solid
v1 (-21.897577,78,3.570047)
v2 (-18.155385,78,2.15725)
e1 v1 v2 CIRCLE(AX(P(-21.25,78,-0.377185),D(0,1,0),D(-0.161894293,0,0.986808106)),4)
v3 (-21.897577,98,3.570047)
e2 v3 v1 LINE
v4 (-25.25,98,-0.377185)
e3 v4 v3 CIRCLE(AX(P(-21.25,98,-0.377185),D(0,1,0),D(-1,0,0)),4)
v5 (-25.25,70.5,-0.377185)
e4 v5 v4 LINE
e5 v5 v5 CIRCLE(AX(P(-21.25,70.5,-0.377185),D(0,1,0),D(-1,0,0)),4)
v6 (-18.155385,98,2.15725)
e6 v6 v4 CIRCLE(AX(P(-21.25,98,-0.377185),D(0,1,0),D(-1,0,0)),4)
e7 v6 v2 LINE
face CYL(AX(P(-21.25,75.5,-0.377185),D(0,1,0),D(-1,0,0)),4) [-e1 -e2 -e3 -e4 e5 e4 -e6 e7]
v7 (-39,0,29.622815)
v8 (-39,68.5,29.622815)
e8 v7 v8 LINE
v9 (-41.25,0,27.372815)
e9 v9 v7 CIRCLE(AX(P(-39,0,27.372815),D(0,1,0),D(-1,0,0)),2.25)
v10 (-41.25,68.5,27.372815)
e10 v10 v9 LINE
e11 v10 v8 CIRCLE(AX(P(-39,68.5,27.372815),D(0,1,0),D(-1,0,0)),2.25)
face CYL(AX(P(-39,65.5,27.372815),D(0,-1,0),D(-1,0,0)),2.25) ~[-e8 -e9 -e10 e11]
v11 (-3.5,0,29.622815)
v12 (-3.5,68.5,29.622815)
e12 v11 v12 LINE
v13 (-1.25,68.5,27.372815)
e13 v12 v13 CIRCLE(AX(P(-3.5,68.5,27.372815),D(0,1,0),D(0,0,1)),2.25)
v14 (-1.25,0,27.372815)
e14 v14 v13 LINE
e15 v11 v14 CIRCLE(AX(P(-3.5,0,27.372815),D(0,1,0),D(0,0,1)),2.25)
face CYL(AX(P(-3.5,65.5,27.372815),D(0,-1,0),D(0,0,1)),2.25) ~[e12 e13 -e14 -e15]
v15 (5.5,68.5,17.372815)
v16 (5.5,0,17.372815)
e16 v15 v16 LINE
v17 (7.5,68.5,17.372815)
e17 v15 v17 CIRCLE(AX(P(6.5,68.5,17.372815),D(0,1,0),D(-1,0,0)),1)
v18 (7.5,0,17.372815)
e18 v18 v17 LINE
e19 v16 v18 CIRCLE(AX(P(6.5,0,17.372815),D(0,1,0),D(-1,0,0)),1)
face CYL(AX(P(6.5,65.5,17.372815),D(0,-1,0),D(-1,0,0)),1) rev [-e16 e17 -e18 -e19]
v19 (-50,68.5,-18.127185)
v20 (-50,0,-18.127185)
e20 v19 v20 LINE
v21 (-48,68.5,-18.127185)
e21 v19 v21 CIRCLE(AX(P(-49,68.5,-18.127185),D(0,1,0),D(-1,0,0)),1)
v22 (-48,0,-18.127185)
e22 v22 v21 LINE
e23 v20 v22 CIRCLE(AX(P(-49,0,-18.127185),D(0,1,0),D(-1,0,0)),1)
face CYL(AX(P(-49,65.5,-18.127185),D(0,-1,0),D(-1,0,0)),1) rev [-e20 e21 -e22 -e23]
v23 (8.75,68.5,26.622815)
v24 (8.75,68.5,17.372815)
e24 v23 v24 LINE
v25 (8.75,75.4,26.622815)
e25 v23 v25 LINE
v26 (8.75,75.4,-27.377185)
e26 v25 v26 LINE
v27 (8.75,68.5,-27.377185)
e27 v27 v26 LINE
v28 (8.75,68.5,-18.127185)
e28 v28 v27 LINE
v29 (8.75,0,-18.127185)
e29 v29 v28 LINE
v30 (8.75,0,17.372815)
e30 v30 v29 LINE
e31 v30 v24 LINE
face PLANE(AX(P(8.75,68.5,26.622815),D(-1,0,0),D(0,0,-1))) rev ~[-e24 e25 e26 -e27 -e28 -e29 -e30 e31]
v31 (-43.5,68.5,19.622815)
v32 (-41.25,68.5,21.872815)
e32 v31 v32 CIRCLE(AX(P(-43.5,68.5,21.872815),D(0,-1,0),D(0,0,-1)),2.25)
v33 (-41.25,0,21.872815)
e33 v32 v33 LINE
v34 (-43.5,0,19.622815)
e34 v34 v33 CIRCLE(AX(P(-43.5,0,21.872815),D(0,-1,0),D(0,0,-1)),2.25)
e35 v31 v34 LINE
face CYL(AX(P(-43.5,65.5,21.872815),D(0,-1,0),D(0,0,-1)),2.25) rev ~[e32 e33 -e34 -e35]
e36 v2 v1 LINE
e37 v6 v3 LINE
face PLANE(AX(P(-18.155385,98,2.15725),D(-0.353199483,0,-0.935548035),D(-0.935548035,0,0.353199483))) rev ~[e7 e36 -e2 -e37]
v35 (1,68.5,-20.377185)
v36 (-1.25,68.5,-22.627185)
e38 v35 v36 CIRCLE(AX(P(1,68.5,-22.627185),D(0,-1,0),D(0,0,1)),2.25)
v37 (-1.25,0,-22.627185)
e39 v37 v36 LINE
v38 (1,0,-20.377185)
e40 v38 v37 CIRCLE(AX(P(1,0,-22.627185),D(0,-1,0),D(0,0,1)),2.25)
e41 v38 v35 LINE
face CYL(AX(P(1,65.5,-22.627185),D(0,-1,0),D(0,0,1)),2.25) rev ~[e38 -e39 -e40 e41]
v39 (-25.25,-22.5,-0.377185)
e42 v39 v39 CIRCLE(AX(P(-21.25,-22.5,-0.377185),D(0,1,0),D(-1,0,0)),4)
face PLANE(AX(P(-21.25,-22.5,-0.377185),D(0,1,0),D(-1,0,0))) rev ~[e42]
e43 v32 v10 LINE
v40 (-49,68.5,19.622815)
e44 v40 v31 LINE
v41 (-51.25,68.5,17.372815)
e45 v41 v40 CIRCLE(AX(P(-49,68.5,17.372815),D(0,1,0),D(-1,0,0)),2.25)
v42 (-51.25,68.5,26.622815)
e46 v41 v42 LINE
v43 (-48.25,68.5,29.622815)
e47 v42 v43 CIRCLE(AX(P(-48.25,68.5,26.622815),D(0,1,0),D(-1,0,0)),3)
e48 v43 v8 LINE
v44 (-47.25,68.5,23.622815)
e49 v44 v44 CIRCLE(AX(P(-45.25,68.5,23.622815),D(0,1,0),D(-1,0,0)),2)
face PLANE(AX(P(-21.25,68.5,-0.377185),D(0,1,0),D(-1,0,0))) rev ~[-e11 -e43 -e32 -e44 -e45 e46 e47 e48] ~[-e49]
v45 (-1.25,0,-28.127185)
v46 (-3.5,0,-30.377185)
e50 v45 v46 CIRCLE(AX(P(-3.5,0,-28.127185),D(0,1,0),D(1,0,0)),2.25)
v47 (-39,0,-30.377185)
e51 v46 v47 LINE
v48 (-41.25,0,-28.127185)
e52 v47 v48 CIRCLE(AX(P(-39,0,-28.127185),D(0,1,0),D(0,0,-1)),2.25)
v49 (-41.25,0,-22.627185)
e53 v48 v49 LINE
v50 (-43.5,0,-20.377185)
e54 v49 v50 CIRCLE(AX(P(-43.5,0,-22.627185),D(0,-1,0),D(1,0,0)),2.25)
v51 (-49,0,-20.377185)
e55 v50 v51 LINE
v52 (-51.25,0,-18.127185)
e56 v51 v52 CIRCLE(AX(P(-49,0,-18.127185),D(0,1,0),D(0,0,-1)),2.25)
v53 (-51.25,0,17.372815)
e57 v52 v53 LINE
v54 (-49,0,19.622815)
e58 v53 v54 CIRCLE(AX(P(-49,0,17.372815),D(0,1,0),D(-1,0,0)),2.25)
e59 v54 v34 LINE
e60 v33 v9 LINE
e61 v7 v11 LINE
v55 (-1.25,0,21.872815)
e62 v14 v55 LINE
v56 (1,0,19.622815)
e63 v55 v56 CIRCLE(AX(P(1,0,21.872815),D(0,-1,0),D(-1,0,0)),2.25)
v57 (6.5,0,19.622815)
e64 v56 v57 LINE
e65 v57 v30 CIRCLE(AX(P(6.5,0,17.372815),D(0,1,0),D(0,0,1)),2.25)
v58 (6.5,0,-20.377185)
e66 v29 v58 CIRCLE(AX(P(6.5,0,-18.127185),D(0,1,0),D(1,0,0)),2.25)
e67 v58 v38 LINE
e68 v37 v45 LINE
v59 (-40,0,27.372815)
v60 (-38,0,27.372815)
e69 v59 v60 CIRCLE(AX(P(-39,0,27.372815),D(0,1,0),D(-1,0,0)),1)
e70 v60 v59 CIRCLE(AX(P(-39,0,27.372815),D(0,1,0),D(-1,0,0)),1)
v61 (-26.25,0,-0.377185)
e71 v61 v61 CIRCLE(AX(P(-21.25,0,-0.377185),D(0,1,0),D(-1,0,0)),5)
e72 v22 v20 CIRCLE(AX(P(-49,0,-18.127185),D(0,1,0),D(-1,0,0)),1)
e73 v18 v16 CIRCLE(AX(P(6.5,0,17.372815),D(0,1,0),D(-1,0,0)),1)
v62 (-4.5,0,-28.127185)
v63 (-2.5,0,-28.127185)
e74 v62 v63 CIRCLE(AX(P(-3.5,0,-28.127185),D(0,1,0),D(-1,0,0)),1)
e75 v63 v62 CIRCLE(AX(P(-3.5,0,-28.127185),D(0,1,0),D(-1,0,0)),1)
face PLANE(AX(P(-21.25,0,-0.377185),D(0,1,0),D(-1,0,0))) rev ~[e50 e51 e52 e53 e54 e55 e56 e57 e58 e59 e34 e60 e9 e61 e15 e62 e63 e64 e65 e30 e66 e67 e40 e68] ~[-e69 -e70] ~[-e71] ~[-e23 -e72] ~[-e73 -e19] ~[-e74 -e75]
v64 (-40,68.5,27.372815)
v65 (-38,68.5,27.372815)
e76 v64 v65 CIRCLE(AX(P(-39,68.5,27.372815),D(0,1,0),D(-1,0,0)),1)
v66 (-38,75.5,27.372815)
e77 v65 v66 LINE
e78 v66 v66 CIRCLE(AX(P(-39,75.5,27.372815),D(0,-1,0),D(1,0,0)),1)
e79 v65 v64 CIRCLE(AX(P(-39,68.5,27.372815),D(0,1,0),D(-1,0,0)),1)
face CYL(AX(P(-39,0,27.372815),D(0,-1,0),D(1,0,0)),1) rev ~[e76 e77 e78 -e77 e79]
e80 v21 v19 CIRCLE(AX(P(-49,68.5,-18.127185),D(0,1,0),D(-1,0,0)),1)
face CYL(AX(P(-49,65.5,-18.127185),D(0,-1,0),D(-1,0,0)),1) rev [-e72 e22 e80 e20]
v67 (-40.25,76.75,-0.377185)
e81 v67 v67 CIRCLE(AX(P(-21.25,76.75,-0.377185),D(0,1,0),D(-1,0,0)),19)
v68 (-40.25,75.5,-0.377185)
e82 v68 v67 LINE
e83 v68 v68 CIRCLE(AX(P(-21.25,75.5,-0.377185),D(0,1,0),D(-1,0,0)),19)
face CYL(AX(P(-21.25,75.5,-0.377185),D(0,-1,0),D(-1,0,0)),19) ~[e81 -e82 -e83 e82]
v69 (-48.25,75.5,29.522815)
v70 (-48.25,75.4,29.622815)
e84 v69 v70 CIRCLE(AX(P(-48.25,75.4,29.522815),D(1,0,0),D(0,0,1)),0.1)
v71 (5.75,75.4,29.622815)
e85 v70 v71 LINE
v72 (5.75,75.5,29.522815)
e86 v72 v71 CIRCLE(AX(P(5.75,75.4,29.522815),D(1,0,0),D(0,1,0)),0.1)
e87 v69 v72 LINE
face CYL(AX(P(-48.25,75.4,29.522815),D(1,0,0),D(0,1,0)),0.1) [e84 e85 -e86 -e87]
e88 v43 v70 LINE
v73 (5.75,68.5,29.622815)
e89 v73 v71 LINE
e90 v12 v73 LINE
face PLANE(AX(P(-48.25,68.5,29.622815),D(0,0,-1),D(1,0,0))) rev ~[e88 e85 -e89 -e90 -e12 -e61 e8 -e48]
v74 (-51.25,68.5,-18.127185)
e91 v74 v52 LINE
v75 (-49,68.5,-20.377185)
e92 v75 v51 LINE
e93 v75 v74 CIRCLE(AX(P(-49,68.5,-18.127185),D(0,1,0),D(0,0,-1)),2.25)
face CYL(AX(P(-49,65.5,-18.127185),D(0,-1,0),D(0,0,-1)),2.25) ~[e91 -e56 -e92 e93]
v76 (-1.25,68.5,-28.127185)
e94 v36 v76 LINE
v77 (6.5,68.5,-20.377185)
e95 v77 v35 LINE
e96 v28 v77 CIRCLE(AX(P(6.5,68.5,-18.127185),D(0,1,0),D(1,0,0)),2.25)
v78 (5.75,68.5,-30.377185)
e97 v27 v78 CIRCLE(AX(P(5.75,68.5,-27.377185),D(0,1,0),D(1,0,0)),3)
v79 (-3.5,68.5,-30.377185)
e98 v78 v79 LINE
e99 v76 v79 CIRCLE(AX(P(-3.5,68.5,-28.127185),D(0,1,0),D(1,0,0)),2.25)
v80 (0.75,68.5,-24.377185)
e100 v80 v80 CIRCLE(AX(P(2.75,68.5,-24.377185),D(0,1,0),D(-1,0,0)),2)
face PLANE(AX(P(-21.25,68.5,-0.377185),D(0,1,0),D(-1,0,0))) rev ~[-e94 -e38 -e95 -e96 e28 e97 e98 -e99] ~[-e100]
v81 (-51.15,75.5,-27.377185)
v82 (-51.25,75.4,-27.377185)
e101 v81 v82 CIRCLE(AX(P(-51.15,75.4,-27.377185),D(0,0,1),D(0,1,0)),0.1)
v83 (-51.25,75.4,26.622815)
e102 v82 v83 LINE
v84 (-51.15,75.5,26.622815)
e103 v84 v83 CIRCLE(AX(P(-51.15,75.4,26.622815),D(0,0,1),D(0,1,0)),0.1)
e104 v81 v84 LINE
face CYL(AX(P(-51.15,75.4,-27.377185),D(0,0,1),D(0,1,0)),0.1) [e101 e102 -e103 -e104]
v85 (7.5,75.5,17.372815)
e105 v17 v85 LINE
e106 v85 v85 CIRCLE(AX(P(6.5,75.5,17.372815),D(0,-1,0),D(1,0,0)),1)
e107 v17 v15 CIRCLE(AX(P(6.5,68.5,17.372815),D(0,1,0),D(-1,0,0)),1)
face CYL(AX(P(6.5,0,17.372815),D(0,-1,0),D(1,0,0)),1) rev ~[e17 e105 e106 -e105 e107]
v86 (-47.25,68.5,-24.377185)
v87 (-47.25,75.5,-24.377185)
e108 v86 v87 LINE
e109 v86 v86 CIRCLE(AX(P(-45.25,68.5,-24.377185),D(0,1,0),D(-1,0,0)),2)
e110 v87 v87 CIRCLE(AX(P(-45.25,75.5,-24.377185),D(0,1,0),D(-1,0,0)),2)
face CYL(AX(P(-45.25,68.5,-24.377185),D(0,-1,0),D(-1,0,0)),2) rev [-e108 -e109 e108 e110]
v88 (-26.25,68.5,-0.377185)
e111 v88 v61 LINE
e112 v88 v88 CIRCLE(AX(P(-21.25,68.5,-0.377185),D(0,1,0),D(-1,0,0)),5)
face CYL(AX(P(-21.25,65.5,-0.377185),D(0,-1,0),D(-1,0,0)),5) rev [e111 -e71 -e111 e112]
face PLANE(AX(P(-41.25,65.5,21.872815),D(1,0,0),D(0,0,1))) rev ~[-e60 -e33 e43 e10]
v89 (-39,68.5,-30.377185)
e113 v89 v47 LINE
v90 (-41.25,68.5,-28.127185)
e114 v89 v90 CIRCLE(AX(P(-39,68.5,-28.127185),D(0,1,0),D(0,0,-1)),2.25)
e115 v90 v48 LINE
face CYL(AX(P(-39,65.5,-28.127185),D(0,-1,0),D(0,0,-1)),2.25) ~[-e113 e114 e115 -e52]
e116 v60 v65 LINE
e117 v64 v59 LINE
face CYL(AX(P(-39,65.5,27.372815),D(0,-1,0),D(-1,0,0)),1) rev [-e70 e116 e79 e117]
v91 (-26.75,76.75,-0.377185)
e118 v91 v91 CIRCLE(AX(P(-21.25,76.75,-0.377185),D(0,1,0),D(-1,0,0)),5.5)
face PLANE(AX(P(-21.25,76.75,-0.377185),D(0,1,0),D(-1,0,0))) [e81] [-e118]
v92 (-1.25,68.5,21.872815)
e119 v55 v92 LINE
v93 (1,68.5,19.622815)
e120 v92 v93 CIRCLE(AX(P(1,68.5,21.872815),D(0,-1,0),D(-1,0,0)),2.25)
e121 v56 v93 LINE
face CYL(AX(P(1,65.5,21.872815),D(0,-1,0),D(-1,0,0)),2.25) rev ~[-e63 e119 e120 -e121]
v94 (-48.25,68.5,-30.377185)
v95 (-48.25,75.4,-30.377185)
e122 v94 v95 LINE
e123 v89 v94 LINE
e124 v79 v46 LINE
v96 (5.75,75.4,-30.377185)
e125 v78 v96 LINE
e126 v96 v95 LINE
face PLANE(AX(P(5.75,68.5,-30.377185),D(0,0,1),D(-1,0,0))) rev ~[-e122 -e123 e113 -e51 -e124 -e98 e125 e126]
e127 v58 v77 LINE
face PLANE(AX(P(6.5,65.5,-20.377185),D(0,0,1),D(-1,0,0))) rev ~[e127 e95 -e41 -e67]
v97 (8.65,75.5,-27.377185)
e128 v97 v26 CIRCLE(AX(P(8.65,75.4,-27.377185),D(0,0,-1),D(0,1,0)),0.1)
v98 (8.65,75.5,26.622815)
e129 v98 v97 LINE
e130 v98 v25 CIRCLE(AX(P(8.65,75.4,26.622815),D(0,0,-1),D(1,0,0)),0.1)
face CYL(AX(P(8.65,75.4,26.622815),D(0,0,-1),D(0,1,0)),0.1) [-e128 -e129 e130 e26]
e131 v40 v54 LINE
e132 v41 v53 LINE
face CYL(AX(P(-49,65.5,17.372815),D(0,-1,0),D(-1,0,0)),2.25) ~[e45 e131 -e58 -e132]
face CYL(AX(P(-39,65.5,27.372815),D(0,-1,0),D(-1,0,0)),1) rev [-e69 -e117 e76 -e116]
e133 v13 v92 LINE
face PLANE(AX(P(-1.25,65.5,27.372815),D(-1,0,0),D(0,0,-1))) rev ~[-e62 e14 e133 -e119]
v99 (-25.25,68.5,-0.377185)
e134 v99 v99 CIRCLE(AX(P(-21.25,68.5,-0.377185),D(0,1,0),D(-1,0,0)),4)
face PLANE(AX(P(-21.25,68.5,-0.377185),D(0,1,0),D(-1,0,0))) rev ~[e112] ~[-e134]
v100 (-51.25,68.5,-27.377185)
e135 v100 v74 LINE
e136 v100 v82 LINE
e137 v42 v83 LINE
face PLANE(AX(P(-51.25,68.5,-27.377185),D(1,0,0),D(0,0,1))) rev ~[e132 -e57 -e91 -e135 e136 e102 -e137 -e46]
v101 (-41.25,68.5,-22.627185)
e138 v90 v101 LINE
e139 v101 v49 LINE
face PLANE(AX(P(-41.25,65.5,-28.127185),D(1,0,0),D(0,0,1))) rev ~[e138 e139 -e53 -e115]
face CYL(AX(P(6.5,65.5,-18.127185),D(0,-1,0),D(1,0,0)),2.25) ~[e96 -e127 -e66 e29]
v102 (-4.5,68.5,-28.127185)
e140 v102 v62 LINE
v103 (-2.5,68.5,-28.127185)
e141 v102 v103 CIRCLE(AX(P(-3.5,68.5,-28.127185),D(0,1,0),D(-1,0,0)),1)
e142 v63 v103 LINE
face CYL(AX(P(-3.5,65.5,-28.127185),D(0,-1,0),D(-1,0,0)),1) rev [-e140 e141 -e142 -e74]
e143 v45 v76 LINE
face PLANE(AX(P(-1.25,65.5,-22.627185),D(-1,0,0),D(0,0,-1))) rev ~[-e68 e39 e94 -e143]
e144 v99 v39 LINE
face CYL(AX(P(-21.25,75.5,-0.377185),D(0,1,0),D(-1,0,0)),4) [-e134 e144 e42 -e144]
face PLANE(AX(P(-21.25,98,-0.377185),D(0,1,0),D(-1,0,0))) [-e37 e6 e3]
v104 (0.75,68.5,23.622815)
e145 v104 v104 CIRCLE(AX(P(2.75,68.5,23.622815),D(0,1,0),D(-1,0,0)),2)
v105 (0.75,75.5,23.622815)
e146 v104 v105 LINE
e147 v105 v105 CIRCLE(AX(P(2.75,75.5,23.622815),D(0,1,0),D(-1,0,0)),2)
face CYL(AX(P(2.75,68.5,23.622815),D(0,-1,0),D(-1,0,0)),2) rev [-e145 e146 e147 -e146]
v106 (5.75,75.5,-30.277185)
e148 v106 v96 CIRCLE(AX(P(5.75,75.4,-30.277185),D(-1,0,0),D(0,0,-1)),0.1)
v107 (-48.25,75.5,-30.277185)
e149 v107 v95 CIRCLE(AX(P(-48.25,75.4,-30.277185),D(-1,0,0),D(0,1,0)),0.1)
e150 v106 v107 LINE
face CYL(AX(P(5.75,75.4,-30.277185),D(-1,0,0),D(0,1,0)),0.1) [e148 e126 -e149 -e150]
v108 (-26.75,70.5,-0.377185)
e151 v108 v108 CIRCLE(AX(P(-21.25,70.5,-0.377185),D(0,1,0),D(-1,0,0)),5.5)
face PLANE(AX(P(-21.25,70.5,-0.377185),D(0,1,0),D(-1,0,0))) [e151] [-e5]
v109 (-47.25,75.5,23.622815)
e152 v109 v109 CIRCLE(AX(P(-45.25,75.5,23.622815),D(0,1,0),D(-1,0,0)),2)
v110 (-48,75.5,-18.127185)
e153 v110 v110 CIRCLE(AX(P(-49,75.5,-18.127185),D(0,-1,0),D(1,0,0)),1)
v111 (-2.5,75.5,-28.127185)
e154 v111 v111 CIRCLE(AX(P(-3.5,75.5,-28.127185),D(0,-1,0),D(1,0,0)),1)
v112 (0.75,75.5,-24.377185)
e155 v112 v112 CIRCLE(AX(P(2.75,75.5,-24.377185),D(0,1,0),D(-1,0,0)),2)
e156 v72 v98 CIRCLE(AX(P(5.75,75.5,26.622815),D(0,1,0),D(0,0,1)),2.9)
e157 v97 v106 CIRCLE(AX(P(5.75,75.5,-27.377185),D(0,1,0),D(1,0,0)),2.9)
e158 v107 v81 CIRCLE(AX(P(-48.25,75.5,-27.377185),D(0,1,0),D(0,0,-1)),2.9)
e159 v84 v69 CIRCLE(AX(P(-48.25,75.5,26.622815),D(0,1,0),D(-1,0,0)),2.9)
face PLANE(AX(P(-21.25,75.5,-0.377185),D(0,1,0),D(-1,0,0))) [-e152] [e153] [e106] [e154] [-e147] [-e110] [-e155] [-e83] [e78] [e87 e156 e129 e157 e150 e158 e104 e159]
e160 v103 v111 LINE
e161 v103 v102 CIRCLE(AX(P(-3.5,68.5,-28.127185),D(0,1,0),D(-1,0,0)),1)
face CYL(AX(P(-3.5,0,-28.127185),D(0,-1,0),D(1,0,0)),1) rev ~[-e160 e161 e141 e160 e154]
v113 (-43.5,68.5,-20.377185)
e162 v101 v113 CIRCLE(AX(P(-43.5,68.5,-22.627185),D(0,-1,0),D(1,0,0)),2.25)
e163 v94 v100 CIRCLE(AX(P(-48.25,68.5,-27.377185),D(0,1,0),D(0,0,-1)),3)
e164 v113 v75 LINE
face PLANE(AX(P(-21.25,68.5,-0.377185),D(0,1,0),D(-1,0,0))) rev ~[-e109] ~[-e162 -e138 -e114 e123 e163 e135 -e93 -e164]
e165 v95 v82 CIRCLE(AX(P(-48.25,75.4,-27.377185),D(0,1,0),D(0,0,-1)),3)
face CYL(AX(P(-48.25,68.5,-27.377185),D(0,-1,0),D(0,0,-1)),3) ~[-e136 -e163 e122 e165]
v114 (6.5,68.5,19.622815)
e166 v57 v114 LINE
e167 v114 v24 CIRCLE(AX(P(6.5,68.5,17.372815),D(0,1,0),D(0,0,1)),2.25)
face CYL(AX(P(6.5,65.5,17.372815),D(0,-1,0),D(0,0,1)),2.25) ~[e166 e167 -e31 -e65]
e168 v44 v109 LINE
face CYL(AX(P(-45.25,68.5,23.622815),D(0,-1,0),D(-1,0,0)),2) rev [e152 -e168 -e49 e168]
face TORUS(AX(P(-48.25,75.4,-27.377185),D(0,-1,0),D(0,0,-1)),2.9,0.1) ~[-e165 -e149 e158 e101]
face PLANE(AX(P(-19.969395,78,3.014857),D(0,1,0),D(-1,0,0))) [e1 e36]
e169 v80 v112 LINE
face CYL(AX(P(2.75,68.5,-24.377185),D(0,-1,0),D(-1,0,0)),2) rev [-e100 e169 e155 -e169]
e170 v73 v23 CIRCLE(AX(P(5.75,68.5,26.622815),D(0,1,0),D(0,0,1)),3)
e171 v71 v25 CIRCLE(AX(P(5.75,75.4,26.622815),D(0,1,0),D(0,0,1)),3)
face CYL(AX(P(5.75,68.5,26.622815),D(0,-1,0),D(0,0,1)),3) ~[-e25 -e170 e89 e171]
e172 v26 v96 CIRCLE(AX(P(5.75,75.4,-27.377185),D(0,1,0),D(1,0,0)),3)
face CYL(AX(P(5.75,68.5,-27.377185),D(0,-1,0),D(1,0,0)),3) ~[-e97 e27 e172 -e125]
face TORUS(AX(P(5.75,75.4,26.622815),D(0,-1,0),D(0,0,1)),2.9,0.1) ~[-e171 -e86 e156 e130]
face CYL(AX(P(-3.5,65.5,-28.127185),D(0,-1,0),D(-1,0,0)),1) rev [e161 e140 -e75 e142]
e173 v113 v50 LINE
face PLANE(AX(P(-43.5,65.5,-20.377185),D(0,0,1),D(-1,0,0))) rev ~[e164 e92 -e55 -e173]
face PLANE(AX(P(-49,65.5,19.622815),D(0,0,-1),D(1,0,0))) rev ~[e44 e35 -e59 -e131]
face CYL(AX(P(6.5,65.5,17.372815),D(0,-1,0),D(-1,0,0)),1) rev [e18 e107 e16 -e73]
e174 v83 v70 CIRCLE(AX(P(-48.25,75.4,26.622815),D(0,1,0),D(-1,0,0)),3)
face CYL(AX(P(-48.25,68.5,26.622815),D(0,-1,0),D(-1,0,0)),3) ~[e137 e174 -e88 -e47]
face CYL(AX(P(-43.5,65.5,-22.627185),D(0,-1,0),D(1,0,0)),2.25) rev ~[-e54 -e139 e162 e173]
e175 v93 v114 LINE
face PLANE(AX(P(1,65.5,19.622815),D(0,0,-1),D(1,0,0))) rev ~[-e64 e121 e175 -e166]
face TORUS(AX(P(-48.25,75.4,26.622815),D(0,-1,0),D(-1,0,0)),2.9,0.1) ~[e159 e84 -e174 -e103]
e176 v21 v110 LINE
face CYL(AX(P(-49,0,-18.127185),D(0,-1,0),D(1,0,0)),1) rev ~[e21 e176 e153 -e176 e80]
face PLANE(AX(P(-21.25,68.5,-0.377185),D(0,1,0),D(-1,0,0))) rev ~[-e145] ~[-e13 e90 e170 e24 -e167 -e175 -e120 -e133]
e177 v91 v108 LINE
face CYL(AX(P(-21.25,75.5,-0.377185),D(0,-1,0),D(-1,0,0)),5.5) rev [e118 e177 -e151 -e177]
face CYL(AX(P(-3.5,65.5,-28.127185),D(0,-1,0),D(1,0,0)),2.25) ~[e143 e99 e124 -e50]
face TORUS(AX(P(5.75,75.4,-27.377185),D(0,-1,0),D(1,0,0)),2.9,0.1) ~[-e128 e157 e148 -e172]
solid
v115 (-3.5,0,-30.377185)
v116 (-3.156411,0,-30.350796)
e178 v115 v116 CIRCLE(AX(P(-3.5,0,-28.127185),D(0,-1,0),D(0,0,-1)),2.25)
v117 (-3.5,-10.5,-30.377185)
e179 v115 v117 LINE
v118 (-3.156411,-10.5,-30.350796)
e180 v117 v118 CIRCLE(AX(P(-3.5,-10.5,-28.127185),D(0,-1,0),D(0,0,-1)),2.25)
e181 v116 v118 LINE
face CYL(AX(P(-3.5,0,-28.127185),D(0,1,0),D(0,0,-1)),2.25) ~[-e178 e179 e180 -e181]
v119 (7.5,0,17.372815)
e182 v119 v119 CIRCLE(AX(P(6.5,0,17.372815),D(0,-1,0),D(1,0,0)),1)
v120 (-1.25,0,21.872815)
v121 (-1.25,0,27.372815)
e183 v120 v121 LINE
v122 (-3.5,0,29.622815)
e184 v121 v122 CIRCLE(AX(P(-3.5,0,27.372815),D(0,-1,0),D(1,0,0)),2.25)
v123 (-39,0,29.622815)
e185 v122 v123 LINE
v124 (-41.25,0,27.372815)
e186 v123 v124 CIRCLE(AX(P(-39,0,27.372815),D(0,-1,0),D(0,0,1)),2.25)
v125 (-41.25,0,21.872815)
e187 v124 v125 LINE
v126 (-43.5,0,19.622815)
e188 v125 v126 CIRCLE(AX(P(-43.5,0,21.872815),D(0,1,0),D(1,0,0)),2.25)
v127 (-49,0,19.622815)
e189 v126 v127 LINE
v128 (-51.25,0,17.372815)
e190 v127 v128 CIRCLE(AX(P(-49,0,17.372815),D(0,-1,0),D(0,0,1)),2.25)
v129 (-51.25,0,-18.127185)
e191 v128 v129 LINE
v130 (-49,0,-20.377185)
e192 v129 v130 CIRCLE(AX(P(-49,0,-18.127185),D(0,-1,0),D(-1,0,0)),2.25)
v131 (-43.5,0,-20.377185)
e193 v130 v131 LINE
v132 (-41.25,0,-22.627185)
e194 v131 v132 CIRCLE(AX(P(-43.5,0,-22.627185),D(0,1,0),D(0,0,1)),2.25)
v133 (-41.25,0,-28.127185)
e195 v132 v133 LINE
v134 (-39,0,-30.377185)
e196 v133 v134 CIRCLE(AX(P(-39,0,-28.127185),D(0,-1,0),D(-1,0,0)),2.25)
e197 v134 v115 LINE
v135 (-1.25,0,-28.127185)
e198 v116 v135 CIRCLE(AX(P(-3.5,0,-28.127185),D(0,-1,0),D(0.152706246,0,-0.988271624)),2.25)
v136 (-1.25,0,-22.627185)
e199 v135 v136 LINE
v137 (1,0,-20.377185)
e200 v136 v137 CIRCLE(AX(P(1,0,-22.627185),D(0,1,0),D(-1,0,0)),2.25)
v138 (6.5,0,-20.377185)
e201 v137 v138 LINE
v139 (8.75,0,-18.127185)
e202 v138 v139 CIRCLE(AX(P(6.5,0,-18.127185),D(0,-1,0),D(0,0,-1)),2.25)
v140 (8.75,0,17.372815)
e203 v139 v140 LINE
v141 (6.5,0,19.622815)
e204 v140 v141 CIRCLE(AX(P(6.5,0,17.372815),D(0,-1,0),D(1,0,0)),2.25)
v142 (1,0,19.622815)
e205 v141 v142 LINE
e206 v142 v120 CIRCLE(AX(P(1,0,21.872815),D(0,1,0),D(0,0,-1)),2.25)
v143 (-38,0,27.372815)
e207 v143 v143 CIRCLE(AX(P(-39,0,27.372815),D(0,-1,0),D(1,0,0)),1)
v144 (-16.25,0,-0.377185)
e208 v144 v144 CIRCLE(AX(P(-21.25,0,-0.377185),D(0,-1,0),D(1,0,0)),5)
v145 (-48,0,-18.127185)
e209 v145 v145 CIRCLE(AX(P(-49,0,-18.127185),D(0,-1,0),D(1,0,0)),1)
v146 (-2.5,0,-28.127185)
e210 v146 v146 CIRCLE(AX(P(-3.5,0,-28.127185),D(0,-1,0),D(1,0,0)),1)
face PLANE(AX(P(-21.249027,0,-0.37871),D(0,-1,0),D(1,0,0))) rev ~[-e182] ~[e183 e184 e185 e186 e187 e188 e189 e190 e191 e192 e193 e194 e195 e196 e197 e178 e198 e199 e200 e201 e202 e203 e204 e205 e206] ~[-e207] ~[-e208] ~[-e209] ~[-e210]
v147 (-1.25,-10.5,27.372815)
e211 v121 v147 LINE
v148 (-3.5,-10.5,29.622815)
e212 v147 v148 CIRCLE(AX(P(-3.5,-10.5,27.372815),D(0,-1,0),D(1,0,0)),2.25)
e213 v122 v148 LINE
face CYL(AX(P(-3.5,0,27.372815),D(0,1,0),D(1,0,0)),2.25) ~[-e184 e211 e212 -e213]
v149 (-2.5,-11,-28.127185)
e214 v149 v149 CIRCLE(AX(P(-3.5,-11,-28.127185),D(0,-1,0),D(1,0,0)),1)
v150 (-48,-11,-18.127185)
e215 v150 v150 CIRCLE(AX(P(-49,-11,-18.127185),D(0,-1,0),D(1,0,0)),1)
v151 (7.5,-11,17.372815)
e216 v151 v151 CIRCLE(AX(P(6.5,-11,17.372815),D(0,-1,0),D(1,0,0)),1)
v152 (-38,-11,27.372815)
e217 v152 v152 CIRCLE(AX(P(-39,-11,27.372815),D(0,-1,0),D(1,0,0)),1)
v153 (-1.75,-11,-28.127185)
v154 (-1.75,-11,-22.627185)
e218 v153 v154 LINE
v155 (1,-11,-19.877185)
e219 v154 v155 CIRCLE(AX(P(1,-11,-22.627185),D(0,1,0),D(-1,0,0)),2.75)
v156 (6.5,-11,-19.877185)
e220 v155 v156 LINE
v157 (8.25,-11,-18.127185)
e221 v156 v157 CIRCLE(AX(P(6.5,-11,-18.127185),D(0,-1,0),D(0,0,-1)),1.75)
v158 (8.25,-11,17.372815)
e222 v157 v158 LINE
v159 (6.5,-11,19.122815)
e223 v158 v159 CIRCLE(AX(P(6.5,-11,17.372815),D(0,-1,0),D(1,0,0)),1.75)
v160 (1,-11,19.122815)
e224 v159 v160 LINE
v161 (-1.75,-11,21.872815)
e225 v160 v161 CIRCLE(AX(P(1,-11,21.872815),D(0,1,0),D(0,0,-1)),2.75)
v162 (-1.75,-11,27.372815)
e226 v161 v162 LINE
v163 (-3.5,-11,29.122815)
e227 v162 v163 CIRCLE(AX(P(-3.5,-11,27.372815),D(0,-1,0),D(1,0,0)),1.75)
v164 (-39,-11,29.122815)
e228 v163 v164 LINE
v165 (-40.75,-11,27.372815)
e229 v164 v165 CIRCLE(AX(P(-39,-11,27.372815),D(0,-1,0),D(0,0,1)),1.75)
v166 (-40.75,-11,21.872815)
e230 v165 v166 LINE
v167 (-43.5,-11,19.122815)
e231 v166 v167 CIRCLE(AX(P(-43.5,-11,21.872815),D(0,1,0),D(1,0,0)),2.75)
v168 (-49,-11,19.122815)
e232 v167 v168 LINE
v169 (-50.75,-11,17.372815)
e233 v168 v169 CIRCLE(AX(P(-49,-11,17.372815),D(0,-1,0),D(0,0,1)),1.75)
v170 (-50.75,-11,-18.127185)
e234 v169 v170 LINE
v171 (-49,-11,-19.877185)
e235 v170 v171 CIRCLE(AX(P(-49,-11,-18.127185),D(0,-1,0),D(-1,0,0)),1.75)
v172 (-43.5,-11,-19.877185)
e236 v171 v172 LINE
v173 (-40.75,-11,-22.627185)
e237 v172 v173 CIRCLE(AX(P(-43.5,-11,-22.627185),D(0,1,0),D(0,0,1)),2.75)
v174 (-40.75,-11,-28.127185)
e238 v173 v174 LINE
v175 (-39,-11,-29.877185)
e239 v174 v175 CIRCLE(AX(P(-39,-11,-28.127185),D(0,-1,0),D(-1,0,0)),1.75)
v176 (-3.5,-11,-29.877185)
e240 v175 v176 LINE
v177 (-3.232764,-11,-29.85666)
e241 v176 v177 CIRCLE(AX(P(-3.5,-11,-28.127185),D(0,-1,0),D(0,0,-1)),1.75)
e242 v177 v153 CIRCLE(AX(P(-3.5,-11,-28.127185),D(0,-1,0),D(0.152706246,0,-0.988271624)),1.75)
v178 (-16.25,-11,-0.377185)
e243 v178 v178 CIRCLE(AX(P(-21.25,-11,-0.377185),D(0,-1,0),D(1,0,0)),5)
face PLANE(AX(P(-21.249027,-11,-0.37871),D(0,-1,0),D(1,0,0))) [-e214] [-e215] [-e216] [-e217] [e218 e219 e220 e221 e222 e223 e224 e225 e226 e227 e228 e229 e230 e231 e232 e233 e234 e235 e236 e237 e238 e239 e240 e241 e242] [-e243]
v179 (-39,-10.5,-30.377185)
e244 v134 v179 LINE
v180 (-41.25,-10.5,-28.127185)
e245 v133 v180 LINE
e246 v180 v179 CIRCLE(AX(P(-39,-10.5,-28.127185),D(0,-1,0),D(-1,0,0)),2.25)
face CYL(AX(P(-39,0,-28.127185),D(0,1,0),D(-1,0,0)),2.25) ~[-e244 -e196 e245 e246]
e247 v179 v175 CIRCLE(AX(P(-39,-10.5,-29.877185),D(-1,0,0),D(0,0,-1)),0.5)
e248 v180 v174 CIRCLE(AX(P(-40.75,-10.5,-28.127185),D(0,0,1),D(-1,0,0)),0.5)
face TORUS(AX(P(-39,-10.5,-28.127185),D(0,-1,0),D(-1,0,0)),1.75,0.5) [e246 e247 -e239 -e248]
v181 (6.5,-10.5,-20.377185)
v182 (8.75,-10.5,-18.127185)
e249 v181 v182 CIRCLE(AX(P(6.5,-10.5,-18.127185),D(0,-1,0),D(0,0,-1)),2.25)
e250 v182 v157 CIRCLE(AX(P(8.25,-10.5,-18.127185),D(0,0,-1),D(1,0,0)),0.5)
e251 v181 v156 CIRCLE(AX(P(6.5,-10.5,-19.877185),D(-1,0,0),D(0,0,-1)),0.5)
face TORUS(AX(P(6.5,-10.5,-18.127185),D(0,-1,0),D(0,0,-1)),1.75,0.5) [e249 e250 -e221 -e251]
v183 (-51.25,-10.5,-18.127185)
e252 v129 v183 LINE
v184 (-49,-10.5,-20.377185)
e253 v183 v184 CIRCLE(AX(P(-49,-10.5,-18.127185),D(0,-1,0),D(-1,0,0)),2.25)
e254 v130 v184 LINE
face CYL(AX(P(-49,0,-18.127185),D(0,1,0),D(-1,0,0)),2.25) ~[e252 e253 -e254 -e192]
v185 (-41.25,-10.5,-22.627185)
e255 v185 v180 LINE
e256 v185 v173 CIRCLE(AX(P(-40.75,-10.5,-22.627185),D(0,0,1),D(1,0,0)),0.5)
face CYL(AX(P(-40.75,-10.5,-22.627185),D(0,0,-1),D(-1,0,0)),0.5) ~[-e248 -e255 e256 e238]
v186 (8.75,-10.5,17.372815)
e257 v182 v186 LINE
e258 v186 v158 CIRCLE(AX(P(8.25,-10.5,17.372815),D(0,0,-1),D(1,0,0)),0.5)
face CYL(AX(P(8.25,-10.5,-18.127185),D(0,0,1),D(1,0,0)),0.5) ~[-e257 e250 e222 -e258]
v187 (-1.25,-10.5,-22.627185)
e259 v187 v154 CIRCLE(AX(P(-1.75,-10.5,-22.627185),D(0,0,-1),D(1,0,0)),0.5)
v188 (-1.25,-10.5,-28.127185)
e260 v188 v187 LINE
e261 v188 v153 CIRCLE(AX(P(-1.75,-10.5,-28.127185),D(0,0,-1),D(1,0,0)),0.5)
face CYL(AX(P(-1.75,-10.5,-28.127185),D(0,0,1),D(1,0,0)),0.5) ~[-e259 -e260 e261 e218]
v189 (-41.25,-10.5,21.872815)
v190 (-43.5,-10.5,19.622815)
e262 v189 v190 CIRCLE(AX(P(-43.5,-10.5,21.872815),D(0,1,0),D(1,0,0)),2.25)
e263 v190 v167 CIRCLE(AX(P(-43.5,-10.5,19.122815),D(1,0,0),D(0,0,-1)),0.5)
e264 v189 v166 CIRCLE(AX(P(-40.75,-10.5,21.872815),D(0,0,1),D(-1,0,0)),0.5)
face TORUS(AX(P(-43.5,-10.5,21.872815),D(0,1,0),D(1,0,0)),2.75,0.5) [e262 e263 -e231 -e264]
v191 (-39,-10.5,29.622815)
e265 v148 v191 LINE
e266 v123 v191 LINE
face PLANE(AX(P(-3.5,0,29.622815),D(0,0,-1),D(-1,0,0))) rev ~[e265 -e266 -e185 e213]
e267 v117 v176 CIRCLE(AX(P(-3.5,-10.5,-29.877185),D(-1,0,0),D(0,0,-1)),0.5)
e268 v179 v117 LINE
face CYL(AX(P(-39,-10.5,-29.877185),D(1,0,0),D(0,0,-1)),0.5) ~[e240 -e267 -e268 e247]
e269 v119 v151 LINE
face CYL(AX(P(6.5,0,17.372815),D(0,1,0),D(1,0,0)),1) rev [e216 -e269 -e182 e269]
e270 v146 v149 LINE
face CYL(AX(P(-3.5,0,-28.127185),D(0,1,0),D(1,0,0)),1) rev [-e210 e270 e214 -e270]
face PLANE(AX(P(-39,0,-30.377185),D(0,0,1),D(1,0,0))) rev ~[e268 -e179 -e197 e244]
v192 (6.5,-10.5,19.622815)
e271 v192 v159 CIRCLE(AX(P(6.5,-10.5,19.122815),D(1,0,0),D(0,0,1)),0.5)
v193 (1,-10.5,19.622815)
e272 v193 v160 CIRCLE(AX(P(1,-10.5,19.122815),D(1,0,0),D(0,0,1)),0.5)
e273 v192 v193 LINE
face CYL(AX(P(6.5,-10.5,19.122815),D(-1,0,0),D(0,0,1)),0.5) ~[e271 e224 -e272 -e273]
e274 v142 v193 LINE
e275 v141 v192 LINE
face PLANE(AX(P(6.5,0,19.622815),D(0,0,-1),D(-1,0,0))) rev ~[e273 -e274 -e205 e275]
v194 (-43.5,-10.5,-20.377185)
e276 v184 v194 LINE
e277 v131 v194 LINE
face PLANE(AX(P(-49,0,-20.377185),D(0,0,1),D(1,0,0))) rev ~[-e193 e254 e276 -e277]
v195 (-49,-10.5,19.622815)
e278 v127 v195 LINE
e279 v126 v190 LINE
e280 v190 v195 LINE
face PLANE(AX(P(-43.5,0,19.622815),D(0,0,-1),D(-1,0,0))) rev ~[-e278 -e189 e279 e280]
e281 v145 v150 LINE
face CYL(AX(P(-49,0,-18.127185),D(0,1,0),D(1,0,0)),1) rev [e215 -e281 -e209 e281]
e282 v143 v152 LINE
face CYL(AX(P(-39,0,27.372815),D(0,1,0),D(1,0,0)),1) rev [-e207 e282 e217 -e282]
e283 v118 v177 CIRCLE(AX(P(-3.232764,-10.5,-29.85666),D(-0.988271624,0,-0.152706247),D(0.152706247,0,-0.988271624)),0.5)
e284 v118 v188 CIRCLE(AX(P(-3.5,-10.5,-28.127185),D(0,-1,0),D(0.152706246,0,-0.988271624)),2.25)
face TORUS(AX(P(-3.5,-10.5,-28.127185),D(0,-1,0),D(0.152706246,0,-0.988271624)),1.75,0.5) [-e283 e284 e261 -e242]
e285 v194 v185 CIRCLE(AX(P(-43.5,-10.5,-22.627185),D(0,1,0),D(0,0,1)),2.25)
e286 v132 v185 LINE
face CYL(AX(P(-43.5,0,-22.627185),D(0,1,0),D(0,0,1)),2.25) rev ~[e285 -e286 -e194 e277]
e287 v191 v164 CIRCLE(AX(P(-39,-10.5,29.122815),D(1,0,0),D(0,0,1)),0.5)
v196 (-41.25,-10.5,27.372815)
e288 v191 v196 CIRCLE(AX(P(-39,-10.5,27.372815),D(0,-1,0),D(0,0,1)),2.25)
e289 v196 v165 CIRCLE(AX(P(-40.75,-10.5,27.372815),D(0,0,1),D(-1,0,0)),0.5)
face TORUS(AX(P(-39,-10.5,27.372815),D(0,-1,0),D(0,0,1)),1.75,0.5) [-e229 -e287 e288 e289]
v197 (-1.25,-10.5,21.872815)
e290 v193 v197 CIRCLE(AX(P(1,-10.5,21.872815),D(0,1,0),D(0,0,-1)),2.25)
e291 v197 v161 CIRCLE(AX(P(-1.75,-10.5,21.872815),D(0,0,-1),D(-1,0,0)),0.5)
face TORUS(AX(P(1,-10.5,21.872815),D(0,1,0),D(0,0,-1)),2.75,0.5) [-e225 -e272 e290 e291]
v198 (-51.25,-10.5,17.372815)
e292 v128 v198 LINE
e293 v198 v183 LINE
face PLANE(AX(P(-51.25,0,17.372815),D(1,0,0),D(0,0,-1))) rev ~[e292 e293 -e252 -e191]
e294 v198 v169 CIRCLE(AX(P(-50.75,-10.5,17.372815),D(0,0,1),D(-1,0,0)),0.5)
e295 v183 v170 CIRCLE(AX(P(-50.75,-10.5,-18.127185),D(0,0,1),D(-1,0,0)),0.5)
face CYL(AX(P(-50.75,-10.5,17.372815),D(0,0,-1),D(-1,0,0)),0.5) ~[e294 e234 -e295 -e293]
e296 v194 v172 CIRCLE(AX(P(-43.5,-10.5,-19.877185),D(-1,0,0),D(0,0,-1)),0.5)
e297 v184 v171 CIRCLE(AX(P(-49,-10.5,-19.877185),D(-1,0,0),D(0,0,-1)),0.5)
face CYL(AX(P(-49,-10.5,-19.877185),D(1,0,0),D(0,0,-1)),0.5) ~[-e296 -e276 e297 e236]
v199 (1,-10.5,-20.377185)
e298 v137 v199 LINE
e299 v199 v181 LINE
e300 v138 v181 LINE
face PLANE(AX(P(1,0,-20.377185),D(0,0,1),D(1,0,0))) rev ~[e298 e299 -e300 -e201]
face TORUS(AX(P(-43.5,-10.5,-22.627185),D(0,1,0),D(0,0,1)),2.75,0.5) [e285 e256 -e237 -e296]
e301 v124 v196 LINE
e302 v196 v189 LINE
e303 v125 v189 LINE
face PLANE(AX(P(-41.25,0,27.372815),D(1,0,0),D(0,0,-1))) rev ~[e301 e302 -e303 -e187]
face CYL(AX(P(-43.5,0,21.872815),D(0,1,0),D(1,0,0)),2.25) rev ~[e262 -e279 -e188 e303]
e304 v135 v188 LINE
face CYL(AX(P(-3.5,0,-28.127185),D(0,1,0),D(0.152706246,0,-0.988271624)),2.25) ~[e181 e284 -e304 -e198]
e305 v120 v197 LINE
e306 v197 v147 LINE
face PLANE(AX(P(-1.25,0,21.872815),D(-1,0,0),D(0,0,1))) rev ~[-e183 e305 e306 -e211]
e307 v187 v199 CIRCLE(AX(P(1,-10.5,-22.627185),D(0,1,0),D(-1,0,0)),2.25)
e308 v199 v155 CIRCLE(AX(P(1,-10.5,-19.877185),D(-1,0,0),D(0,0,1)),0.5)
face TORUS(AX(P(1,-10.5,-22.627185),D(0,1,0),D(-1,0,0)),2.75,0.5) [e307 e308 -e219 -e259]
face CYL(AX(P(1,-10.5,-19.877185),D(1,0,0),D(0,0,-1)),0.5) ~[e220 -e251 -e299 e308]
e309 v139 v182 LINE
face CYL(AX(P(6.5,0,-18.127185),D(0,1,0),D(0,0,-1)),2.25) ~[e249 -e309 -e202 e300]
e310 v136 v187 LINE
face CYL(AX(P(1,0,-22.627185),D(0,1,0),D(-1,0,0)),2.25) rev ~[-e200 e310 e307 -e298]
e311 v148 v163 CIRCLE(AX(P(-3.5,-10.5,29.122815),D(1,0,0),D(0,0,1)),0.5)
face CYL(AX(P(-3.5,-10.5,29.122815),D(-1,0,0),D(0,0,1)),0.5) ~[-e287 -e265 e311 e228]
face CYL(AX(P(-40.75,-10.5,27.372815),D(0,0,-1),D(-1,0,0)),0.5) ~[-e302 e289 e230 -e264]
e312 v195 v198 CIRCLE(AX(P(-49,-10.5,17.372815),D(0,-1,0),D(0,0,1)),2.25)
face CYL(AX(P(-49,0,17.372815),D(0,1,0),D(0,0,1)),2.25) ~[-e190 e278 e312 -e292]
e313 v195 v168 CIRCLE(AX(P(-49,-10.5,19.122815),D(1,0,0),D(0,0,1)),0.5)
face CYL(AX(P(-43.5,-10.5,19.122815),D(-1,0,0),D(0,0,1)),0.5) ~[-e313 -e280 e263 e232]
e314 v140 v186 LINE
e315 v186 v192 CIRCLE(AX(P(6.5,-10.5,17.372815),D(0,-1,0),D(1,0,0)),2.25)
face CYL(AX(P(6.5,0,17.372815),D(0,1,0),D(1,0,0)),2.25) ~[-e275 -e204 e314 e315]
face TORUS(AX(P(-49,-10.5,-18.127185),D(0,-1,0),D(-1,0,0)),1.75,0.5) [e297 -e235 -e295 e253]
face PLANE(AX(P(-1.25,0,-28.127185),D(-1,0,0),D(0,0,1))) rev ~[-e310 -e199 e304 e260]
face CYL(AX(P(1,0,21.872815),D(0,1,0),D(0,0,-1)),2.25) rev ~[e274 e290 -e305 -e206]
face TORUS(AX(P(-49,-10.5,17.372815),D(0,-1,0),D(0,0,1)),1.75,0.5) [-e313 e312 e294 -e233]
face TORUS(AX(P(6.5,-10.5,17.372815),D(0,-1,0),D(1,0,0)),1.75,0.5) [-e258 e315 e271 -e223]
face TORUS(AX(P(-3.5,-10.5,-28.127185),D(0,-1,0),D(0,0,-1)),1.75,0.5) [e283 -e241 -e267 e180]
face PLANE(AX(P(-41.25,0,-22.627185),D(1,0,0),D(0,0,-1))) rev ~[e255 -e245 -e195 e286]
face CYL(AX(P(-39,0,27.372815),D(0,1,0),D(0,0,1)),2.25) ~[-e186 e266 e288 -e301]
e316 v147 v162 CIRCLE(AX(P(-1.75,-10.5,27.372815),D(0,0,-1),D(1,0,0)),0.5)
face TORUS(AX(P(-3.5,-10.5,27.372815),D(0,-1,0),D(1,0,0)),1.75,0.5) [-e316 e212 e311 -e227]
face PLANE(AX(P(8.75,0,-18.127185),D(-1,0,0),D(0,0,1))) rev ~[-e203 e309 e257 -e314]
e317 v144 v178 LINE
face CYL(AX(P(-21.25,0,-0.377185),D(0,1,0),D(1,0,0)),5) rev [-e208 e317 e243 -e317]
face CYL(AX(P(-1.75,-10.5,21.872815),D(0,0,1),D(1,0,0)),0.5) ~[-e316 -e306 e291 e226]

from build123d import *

# Parameters (mm, degrees)
F0_R           = 1
F0_R_2         = 5
F1_DEPTH       = 11
F2_R           = 0.5
F3_R           = 1
F3_R_2         = 5
F4_DEPTH       = 65.5
F6_DEPTH       = 3
F7_R           = 2
F8_DEPTH       = 7
F9_R           = 5.5
F9_R_2         = 4
F10_DEPTH      = 5
F11_DEPTH      = 22.5
F11_DEPTH_BACK = 98
F13_DEPTH      = 20
F9_R_3         = 19
F14_DEPTH      = 1.25
F15_R          = 0.1
F16_DEPTH      = 76.75


with BuildPart() as f1:
    # F0 (on Front) → F1 (new body)
    with BuildSketch(Plane.XZ):
        with BuildLine():
            Line((-3.5, 29.6228150278), (-39, 29.6228150278))
            ThreePointArc((-39, 29.6228150278), (-40.5909902577, 28.9638052855), (-41.25, 27.3728150278))
            Line((-41.25, 27.3728150278), (-41.25, 21.8728150278))
            ThreePointArc((-41.25, 21.8728150278), (-41.9090097423, 20.2818247702), (-43.5, 19.6228150278))
            Line((-43.5, 19.6228150278), (-49, 19.6228150278))
            ThreePointArc((-49, 19.6228150278), (-50.5909902577, 18.9638052855), (-51.25, 17.3728150278))
            Line((-51.25, 17.3728150278), (-51.25, -18.1271849722))
            ThreePointArc((-51.25, -18.1271849722), (-50.5909902577, -19.7181752298), (-49, -20.3771849722))
            Line((-49, -20.3771849722), (-43.5, -20.3771849722))
            ThreePointArc((-43.5, -20.3771849722), (-41.9090097423, -21.0361947145), (-41.25, -22.6271849722))
            Line((-41.25, -22.6271849722), (-41.25, -28.1271849722))
            ThreePointArc((-41.25, -28.1271849722), (-40.5909902577, -29.7181752298), (-39, -30.3771849722))
            Line((-39, -30.3771849722), (-3.5, -30.3771849722))
            ThreePointArc((-3.5, -30.3771849722), (-3.3276995289, -30.3705780603), (-3.1564109458, -30.3507961256))
            ThreePointArc((-3.1564109458, -30.3507961256), (-1.791846703, -29.5916686061), (-1.25, -28.1271849722))
            Line((-1.25, -28.1271849722), (-1.25, -22.6271849722))
            ThreePointArc((-1.25, -22.6271849722), (-0.5909902577, -21.0361947145), (1, -20.3771849722))
            Line((1, -20.3771849722), (6.5, -20.3771849722))
            ThreePointArc((6.5, -20.3771849722), (8.0909902577, -19.7181752298), (8.75, -18.1271849722))
            Line((8.75, -18.1271849722), (8.75, 17.3728150278))
            ThreePointArc((8.75, 17.3728150278), (8.0909902577, 18.9638052855), (6.5, 19.6228150278))
            Line((6.5, 19.6228150278), (1, 19.6228150278))
            ThreePointArc((1, 19.6228150278), (-0.5909902577, 20.2818247702), (-1.25, 21.8728150278))
            Line((-1.25, 21.8728150278), (-1.25, 27.3728150278))
            ThreePointArc((-1.25, 27.3728150278), (-1.9090097423, 28.9638052855), (-3.5, 29.6228150278))
        make_face()
        with Locations((-49, -18.1271849722)):
            Circle(F0_R, mode=Mode.SUBTRACT)
        with Locations((-3.5, -28.1271849722)):
            Circle(F0_R, mode=Mode.SUBTRACT)
        with Locations((-21.25, -0.3771849722)):
            Circle(F0_R_2, mode=Mode.SUBTRACT)
        with Locations((-39, 27.3728150278)):
            Circle(F0_R, mode=Mode.SUBTRACT)
        with Locations((6.5, 17.3728150278)):
            Circle(F0_R, mode=Mode.SUBTRACT)
    extrude(amount=F1_DEPTH)

    # F2
    f2_edges = [f1.edges().sort_by_distance(p)[0] for p in [
        (-51.25, -11, -0.377185),
    ]]
    fillet(f2_edges, radius=F2_R)


with BuildPart() as f4:
    # F3 (on face) → F4 (new body)
    with BuildSketch(Plane(origin=(0, 0, 0), x_dir=(-1, 0, 0), z_dir=(0, 1, 0))):
        with BuildLine():
            ThreePointArc((41.25, 27.3728150278), (40.5909902577, 28.9638052855), (39, 29.6228150278))
            Line((39, 29.6228150278), (3.5, 29.6228150278))
            ThreePointArc((3.5, 29.6228150278), (1.9090097423, 28.9638052855), (1.25, 27.3728150278))
            Line((1.25, 27.3728150278), (1.25, 21.8728150278))
            ThreePointArc((1.25, 21.8728150278), (0.5909902577, 20.2818247702), (-1, 19.6228150278))
            Line((-1, 19.6228150278), (-6.5, 19.6228150278))
            ThreePointArc((-6.5, 19.6228150278), (-8.0909902577, 18.9638052855), (-8.75, 17.3728150278))
            Line((-8.75, 17.3728150278), (-8.75, -18.1271849722))
            ThreePointArc((-8.75, -18.1271849722), (-8.0909902577, -19.7181752298), (-6.5, -20.3771849722))
            Line((-6.5, -20.3771849722), (-1, -20.3771849722))
            ThreePointArc((-1, -20.3771849722), (0.5909902577, -21.0361947145), (1.25, -22.6271849722))
            Line((1.25, -22.6271849722), (1.25, -28.1271849722))
            ThreePointArc((1.25, -28.1271849722), (1.9090097423, -29.7181752298), (3.5, -30.3771849722))
            Line((3.5, -30.3771849722), (39, -30.3771849722))
            ThreePointArc((39, -30.3771849722), (40.5909902577, -29.7181752298), (41.25, -28.1271849722))
            Line((41.25, -28.1271849722), (41.25, -22.6271849722))
            ThreePointArc((41.25, -22.6271849722), (41.9090097423, -21.0361947145), (43.5, -20.3771849722))
            Line((43.5, -20.3771849722), (49, -20.3771849722))
            ThreePointArc((49, -20.3771849722), (50.5909902577, -19.7181752298), (51.25, -18.1271849722))
            Line((51.25, -18.1271849722), (51.25, 17.3728150278))
            ThreePointArc((51.25, 17.3728150278), (50.5909902577, 18.9638052855), (49, 19.6228150278))
            Line((49, 19.6228150278), (43.5, 19.6228150278))
            ThreePointArc((43.5, 19.6228150278), (41.9090097423, 20.2818247702), (41.25, 21.8728150278))
            Line((41.25, 21.8728150278), (41.25, 27.3728150278))
        make_face()
        with Locations((3.5, -28.1271849722)):
            Circle(F3_R, mode=Mode.SUBTRACT)
        with Locations((49, -18.1271849722)):
            Circle(F3_R, mode=Mode.SUBTRACT)
        with Locations((21.25, -0.3771849722)):
            Circle(F3_R_2, mode=Mode.SUBTRACT)
        with Locations((-6.5, 17.3728150278)):
            Circle(F3_R, mode=Mode.SUBTRACT)
        with Locations((39, 27.3728150278)):
            Circle(F3_R, mode=Mode.SUBTRACT)
    extrude(amount=F4_DEPTH)

    # F6 (add): a face of the model
    f6_faces = [f4.faces().sort_by_distance(p)[0] for p in [
        (-41.3090097423, 65.5, 19.6818247702),
    ]]
    extrude(f6_faces, amount=F6_DEPTH)

    # F7 (on face) → F8 (join)
    with BuildSketch(Plane(origin=(0, 68.5, 0), x_dir=(-1, 0, 0), z_dir=(0, 1, 0))):
        with BuildLine():
            Line((48.25, 29.6228150278), (-5.75, 29.6228150278))
            ThreePointArc((-5.75, 29.6228150278), (-7.8713203436, 28.7441353714), (-8.75, 26.6228150278))
            Line((-8.75, 26.6228150278), (-8.75, -27.3771849722))
            ThreePointArc((-8.75, -27.3771849722), (-7.8713203436, -29.4985053157), (-5.75, -30.3771849722))
            Line((-5.75, -30.3771849722), (48.25, -30.3771849722))
            ThreePointArc((48.25, -30.3771849722), (50.3713203436, -29.4985053157), (51.25, -27.3771849722))
            Line((51.25, -27.3771849722), (51.25, 26.6228150278))
            ThreePointArc((51.25, 26.6228150278), (50.3713203436, 28.7441353714), (48.25, 29.6228150278))
        make_face()
        with Locations((-2.75, -24.3771849722)):
            Circle(F7_R, mode=Mode.SUBTRACT)
        with Locations((45.25, -24.3771849722)):
            Circle(F7_R, mode=Mode.SUBTRACT)
        with Locations((-2.75, 23.6228150278)):
            Circle(F7_R, mode=Mode.SUBTRACT)
        with Locations((45.25, 23.6228150278)):
            Circle(F7_R, mode=Mode.SUBTRACT)
    extrude(amount=F8_DEPTH)

    # F9 (on face) → F10 (cut)
    with BuildSketch(Plane(origin=(0, 75.5, 0), x_dir=(-1, 0, 0), z_dir=(0, 1, 0))):
        with Locations((21.25, -0.3771849722)):
            Circle(F9_R)
        with Locations((21.25, -0.3771849722)):
            Circle(F9_R_2, mode=Mode.SUBTRACT)
    extrude(amount=-F10_DEPTH, mode=Mode.SUBTRACT)

    # F11 (add, two sides): a face of the model
    f11_faces = [f4.faces().sort_by_distance(p)[0] for p in [
        (-21.25, 75.5, -0.3771849722),
    ]]
    extrude(f11_faces, amount=F11_DEPTH)
    extrude(f11_faces, amount=-F11_DEPTH_BACK)

    # F12 (on face) → F13 (cut)
    with BuildSketch(Plane(origin=(0, 98, 0), x_dir=(-1, 0, 0), z_dir=(0, 1, 0))):
        with BuildLine():
            Line((18.1553850321, 2.1572495211), (21.8975771714, 3.5700474516))
            ThreePointArc((21.8975771714, 3.5700474516), (19.8372020695, 3.3650071671), (18.1553850321, 2.1572495211))
        make_face()
    extrude(amount=-F13_DEPTH, mode=Mode.SUBTRACT)

    # F9 (on face) → F14 (join)
    with BuildSketch(Plane(origin=(0, 75.5, 0), x_dir=(-1, 0, 0), z_dir=(0, 1, 0))):
        with Locations((21.25, -0.3771849722)):
            Circle(F9_R_3)
        with Locations((21.25, -0.3771849722)):
            Circle(F9_R, mode=Mode.SUBTRACT)
    extrude(amount=F14_DEPTH)

    # F15
    f15_edges = [f4.edges().sort_by_distance(p)[0] for p in [
        (-51.25, 75.5, -0.377185),
    ]]
    fillet(f15_edges, radius=F15_R)

    # F0 (on Front) → F16 (cut, through all)
    with BuildSketch(Plane.XZ):
        with Locations((6.5, 17.3728150278)):
            Circle(F0_R)
        with Locations((-49, -18.1271849722)):
            Circle(F0_R)
        with Locations((-3.5, -28.1271849722)):
            Circle(F0_R)
        with Locations((-39, 27.3728150278)):
            Circle(F0_R)
    extrude(amount=-F16_DEPTH, mode=Mode.SUBTRACT)


solid = Compound([f1.part, f4.part])
